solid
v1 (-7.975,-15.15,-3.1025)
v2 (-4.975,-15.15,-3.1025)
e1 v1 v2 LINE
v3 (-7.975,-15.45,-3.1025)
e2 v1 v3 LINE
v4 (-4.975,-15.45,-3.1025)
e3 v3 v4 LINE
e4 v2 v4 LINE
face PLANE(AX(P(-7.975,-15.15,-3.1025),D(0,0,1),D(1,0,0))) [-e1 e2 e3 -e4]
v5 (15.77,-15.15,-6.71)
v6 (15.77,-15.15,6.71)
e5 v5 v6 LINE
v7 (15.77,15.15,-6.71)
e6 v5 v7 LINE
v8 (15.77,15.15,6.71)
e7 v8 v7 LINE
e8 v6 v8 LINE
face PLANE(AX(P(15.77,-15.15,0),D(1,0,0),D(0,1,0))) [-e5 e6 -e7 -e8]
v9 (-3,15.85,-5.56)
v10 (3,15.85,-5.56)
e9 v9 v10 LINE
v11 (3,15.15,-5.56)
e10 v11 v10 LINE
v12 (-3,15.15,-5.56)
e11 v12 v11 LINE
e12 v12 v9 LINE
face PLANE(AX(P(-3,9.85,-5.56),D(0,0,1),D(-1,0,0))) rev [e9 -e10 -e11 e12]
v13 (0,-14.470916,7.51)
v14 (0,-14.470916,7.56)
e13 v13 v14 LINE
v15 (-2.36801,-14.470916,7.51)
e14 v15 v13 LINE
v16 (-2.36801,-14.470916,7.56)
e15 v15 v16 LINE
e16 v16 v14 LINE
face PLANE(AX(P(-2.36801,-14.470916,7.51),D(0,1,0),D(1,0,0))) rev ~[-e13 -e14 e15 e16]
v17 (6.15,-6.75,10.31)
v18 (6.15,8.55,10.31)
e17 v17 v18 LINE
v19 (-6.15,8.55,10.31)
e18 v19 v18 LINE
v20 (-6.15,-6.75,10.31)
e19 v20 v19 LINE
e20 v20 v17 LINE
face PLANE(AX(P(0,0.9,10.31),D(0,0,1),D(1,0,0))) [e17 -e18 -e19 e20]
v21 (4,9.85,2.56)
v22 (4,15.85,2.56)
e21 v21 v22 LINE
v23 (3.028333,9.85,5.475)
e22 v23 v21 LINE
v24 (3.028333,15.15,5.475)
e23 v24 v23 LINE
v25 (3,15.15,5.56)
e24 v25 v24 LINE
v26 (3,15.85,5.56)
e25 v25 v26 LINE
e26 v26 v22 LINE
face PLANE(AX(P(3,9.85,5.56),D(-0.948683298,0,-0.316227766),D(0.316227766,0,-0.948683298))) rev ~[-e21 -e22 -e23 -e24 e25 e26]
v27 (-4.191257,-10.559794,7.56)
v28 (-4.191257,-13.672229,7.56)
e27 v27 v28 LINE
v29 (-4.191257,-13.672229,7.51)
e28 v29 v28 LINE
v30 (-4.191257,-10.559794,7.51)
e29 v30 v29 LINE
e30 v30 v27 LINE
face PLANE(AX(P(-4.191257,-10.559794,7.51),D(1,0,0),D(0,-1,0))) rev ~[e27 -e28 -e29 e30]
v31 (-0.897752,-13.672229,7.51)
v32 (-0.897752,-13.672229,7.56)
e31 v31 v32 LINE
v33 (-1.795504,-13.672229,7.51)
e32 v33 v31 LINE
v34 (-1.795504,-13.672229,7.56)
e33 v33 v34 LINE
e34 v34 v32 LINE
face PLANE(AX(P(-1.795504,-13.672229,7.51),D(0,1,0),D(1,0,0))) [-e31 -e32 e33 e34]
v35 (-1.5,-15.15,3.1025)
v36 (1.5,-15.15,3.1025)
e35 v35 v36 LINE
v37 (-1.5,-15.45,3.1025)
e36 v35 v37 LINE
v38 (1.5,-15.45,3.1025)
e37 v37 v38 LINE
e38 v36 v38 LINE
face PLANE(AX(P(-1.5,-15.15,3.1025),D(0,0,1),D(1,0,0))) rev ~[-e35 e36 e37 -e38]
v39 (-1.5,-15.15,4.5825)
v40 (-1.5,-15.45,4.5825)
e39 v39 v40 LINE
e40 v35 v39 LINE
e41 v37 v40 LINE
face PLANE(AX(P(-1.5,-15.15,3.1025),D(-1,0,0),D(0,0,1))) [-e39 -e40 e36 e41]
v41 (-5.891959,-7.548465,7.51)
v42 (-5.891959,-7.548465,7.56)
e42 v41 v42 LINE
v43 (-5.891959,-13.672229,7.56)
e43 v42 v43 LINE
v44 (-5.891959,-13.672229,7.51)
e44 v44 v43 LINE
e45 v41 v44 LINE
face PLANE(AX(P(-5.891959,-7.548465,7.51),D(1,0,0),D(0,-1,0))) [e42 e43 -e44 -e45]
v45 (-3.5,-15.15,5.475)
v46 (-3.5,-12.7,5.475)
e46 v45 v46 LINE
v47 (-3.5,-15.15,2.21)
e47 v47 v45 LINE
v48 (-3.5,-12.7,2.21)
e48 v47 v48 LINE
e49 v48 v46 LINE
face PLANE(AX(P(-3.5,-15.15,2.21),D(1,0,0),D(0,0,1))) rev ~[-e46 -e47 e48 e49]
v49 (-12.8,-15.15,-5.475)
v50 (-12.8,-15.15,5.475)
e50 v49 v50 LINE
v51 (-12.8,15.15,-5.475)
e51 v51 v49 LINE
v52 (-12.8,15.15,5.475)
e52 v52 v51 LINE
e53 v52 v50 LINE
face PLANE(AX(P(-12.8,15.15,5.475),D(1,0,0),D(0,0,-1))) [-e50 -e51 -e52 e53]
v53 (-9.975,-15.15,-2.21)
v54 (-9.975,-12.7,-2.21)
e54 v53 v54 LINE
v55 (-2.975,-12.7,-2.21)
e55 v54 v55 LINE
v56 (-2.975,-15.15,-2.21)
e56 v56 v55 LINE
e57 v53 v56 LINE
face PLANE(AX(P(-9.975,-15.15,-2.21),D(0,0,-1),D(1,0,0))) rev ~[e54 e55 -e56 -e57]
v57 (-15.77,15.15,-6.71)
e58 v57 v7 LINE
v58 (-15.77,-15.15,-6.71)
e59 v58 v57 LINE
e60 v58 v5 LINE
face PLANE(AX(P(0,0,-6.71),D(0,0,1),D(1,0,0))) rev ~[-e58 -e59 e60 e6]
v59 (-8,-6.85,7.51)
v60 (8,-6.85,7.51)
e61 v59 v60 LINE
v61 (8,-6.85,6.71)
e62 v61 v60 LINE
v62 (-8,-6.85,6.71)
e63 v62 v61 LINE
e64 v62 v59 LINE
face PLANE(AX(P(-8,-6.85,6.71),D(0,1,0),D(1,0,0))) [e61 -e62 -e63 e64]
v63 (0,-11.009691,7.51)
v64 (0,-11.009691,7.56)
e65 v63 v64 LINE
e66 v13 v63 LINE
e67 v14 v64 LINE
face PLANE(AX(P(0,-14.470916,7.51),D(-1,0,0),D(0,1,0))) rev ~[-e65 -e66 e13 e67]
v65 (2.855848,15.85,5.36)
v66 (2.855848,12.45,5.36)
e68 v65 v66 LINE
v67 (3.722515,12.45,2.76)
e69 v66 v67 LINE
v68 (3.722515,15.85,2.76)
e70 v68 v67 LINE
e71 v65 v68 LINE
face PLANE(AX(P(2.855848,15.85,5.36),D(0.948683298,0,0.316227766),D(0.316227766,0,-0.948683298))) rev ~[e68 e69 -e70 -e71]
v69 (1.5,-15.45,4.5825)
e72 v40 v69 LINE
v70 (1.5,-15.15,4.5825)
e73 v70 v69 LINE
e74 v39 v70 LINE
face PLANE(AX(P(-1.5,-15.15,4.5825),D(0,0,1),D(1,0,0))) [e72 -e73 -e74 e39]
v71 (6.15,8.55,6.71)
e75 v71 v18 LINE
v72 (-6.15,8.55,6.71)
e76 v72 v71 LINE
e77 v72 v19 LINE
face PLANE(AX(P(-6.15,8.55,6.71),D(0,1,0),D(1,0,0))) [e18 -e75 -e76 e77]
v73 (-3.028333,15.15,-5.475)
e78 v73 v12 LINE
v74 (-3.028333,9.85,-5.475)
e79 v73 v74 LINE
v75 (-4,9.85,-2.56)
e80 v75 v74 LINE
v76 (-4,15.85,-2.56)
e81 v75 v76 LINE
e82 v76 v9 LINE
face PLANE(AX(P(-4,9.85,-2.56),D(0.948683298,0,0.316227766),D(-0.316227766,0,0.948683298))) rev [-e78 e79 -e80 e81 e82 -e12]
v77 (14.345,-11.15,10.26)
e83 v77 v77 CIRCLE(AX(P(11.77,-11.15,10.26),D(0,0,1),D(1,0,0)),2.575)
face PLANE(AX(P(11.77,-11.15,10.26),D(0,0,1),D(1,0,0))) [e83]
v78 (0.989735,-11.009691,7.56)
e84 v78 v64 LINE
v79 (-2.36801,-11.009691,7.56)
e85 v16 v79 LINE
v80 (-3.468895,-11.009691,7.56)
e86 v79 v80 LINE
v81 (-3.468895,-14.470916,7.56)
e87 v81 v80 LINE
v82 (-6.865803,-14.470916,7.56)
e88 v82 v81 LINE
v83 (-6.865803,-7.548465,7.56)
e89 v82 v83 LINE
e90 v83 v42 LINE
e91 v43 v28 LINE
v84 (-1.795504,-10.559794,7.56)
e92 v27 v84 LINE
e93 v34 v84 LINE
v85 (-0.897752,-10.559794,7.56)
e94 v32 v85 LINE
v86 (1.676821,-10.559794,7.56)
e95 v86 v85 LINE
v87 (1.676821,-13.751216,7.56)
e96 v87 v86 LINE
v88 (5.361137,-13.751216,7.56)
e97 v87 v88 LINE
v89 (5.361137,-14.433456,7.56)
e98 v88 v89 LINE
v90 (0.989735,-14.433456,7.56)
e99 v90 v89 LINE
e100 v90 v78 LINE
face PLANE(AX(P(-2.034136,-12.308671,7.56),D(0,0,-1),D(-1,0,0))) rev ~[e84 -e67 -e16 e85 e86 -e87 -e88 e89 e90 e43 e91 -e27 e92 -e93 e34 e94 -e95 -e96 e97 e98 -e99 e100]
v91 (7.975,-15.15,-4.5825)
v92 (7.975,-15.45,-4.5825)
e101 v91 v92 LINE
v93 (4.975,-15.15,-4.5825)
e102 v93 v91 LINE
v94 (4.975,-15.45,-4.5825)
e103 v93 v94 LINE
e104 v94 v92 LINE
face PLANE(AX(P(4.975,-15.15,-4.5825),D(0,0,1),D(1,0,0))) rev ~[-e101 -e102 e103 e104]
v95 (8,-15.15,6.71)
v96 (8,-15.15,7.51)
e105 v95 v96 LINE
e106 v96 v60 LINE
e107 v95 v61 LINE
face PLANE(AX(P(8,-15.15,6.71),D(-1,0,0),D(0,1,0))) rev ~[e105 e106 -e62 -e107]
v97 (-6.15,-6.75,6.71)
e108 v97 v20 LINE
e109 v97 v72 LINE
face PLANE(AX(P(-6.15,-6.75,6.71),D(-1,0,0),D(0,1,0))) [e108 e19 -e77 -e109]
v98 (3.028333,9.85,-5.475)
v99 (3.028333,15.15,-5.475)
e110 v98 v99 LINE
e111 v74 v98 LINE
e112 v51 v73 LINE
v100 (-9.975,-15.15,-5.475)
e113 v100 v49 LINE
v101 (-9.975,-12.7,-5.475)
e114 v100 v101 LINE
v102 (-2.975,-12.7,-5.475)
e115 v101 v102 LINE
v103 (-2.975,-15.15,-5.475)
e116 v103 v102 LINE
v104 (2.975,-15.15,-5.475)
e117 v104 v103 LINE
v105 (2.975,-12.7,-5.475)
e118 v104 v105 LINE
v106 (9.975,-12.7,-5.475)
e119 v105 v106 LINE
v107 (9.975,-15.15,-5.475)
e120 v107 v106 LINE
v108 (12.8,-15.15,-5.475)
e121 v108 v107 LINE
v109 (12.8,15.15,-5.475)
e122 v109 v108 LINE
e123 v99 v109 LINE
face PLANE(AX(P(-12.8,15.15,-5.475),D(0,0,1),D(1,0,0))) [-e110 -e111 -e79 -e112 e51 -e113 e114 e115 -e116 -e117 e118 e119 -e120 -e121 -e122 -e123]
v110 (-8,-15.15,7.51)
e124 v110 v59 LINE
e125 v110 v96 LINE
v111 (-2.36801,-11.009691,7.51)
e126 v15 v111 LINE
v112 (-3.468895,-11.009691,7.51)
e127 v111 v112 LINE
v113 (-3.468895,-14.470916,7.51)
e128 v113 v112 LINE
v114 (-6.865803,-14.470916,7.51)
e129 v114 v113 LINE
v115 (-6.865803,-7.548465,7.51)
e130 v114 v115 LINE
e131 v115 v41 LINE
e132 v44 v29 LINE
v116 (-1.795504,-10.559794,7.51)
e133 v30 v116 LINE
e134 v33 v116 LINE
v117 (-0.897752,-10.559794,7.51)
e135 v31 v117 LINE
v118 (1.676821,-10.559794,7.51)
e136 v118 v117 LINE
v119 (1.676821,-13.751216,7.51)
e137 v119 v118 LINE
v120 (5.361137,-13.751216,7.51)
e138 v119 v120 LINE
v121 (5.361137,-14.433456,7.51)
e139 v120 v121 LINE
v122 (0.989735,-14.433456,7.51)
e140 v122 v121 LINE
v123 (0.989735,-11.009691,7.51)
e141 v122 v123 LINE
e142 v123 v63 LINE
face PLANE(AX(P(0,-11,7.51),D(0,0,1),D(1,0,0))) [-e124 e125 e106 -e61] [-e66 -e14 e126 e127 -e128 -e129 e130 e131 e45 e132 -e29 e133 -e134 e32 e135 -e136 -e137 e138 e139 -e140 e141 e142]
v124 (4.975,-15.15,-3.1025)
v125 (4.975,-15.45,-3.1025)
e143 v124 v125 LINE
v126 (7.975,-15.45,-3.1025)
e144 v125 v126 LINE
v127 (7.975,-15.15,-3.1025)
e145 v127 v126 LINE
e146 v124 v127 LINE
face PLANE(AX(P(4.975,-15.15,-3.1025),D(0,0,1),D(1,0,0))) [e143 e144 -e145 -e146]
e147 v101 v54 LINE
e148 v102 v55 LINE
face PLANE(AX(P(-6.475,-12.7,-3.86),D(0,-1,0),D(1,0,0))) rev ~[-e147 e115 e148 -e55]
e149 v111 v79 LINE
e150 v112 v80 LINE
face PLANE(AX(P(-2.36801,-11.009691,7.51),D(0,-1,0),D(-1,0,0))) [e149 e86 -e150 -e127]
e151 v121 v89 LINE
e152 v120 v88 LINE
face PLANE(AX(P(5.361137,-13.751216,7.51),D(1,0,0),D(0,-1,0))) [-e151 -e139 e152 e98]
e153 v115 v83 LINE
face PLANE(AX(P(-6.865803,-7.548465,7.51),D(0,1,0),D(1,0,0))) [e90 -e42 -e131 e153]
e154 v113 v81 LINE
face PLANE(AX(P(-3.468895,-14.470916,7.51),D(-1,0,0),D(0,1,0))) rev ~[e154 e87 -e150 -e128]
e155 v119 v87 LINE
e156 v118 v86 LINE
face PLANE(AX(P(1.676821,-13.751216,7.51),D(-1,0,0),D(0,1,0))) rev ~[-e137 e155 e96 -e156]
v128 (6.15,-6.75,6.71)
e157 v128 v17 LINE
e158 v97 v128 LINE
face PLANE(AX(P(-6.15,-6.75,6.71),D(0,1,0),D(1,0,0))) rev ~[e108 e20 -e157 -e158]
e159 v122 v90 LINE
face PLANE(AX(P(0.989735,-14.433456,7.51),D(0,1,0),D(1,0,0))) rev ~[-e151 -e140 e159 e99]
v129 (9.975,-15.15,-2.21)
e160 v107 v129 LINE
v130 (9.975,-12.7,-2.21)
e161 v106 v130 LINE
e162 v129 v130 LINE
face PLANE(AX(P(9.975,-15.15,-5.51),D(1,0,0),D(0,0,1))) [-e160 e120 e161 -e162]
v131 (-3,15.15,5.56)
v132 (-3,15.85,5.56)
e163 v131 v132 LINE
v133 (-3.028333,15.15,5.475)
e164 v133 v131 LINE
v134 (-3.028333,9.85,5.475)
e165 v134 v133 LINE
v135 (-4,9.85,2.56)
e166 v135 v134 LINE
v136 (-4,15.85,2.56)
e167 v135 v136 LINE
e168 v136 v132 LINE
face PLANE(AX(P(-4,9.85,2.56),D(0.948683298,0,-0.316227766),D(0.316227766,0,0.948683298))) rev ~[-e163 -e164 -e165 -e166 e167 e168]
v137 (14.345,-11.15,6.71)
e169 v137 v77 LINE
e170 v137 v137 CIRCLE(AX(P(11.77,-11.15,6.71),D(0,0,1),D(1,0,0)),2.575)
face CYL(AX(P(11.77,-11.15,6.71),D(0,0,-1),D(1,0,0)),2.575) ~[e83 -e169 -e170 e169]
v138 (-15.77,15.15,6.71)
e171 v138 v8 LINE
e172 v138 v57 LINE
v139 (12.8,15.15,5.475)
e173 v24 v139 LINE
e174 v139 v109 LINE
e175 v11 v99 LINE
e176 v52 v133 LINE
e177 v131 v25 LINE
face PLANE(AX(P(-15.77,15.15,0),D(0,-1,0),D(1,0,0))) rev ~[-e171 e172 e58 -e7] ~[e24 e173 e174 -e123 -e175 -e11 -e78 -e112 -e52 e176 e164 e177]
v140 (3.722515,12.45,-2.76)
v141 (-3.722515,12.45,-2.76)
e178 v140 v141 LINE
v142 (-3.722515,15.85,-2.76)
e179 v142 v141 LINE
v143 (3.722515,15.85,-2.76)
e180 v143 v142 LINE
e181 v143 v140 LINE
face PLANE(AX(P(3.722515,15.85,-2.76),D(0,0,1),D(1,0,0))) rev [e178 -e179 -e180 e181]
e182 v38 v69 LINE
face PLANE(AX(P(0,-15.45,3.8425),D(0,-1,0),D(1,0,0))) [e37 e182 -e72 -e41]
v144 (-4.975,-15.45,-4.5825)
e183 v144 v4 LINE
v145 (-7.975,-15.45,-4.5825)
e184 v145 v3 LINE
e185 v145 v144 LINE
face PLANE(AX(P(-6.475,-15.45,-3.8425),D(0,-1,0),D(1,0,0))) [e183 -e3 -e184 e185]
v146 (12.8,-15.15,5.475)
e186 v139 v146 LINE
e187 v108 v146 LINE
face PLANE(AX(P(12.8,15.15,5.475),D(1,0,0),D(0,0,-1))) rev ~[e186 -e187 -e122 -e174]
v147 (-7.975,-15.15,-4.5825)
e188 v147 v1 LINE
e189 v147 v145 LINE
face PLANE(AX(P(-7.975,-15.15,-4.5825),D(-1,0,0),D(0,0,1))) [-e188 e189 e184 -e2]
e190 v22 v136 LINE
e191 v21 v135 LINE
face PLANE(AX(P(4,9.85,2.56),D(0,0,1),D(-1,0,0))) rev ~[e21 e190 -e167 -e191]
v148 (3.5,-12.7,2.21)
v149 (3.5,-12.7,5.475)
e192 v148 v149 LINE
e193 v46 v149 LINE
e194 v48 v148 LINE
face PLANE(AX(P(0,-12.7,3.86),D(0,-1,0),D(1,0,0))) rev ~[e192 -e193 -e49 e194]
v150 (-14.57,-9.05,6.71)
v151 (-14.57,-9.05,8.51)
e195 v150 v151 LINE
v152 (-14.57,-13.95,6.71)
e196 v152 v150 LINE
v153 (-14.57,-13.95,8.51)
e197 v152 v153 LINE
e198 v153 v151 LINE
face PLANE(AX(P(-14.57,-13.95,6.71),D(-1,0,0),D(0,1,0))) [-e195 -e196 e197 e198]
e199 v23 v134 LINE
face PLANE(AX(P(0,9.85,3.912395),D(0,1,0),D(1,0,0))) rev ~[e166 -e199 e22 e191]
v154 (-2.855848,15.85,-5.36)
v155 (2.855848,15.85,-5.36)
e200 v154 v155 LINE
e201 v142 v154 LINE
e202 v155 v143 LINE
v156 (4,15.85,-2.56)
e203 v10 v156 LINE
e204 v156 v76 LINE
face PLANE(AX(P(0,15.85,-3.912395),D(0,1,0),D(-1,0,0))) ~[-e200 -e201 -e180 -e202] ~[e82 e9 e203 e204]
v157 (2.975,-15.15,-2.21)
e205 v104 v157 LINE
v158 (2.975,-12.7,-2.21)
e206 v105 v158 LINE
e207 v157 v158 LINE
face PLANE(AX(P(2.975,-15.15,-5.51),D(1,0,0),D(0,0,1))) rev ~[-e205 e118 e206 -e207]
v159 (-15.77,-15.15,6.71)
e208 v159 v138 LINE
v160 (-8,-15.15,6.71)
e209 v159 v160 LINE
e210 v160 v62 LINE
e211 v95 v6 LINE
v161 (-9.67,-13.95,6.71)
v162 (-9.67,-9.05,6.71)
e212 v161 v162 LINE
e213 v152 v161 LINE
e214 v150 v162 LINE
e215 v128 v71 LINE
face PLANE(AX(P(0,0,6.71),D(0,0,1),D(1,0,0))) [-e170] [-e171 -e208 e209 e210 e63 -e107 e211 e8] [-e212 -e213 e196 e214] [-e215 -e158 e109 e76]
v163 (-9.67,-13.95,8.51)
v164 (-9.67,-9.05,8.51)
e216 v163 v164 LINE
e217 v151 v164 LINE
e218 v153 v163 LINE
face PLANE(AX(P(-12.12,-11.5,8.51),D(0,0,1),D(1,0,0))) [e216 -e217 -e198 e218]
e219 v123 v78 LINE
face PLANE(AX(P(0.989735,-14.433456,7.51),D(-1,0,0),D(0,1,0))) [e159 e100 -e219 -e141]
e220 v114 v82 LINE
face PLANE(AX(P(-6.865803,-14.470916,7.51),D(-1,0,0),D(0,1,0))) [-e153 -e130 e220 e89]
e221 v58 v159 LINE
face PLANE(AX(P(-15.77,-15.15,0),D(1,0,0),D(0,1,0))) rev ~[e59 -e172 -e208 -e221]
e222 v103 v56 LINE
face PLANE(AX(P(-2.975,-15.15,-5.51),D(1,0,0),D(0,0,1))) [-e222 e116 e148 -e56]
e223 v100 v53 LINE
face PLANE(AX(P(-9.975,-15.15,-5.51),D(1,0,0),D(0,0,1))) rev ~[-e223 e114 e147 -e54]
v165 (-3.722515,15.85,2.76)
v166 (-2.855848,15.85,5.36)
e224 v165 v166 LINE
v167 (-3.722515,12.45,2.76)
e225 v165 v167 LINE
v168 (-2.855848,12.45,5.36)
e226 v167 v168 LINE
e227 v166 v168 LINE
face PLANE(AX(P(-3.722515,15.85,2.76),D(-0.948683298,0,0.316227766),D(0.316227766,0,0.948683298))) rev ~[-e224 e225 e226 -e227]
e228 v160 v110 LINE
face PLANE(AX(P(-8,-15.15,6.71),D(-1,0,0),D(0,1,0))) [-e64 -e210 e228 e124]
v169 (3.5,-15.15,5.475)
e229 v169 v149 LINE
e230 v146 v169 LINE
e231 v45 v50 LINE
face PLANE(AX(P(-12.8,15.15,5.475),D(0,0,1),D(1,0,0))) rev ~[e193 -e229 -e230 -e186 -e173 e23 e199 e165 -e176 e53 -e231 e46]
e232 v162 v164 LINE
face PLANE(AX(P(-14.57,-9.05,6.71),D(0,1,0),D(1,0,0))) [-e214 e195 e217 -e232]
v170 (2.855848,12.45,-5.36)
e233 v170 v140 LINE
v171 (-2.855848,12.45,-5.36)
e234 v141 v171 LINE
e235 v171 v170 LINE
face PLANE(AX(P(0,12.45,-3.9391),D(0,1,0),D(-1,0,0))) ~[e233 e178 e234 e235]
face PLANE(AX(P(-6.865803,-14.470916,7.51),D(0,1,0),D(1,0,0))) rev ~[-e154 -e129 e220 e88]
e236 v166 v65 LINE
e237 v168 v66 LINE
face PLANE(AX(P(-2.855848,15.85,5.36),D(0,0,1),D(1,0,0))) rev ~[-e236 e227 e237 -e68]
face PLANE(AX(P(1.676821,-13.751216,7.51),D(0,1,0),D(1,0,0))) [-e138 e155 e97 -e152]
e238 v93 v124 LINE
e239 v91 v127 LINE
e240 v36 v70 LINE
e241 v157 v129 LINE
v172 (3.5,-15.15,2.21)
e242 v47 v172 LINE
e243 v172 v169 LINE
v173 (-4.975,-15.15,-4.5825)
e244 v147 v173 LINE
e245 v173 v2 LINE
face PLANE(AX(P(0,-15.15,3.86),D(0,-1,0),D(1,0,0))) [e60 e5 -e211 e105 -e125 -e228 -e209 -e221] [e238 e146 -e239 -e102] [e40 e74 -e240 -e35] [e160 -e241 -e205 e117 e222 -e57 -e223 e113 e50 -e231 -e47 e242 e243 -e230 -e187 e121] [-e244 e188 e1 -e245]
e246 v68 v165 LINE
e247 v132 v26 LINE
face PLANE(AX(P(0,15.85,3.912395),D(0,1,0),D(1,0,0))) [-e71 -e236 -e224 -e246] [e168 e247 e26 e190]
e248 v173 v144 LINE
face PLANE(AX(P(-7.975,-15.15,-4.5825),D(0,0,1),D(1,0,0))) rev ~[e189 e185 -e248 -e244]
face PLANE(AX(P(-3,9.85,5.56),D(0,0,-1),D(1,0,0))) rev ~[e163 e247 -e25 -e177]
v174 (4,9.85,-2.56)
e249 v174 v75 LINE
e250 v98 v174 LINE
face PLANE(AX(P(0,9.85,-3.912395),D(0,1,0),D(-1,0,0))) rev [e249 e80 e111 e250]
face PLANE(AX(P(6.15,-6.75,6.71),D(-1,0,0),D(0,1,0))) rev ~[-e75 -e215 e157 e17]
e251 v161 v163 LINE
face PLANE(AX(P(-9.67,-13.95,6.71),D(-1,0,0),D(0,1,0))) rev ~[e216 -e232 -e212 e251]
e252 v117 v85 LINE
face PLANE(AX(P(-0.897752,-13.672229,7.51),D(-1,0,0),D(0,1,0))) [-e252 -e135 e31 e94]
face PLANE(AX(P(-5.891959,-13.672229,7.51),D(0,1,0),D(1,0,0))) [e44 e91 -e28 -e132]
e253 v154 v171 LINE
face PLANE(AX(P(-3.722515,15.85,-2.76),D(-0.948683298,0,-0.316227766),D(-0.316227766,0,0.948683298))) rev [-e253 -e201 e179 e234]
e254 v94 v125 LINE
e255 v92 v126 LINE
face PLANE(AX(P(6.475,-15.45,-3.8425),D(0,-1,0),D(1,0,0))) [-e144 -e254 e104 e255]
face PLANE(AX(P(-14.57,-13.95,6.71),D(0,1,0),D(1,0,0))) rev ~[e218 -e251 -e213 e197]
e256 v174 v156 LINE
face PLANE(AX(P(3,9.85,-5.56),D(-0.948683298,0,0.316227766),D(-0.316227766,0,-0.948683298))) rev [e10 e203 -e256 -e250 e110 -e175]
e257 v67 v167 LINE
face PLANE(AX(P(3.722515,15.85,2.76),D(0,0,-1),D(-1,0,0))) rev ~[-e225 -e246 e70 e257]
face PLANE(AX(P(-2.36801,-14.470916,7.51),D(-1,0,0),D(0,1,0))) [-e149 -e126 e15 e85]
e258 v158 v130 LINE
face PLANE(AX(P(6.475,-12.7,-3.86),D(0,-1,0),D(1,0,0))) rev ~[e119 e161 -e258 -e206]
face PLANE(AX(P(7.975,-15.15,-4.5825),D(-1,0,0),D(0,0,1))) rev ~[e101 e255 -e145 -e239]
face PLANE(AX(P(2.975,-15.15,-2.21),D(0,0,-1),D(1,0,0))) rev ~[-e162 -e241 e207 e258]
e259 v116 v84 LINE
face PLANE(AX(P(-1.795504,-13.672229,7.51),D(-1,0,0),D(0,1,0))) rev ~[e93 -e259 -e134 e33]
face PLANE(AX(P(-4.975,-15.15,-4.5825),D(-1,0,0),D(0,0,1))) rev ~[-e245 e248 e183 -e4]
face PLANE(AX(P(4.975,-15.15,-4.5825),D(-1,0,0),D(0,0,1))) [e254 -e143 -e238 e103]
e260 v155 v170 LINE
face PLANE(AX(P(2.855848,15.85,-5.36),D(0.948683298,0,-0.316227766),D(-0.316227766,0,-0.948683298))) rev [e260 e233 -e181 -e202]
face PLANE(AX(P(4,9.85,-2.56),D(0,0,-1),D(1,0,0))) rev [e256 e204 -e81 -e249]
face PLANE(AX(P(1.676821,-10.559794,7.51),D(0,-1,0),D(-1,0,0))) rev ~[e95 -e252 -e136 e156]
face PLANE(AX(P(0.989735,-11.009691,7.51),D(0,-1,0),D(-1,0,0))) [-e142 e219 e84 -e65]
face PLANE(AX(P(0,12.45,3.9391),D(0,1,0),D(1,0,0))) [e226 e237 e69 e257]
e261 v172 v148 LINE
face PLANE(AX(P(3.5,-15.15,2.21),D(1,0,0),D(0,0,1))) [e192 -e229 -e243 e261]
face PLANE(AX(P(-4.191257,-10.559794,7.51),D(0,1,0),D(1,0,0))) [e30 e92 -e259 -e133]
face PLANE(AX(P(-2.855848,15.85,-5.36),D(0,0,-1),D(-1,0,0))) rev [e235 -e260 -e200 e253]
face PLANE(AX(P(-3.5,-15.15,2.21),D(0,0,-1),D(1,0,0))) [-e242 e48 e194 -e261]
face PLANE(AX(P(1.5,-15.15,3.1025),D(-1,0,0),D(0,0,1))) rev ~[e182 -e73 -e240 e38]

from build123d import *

# Parameters (mm, degrees)
ESQUISSE1_W             = 31.54
ESQUISSE1_H             = 30.3
BOSS_EXTRU_1_DEPTH      = 6.71
ESQUISSE2_W             = 12.3
ESQUISSE2_H             = 15.3
BOSS_EXTRU_2_DEPTH      = 3.6
ESQUISSE9_W             = 25.6
ESQUISSE9_H             = 10.95
ENL_V_MAT_EXTRU_2_DEPTH = 36.680232623
BOSS_EXTRU_3_START      = -5.3
BOSS_EXTRU_3_DEPTH      = 6
ENL_V_MAT_EXTRU_1_DEPTH = 3.4
ESQUISSE5_W             = 16
ESQUISSE5_H             = 8.3
BOSS_EXTRU_4_DEPTH      = 0.8
BOSS_EXTRU_5_DEPTH      = 0.05
ESQUISSE7_W             = 4.9
ESQUISSE7_H             = 4.9
BOSS_EXTRU_6_DEPTH      = 1.8
ESQUISSE8_R             = 2.575
BOSS_EXTRU_7_DEPTH      = 3.55
ESQUISSE10_W            = 7
ESQUISSE10_H            = 3.3
BOSS_EXTRU_8_DEPTH      = 2.45
ESQUISSE11_W            = 3
ESQUISSE11_H            = 1.48
BOSS_EXTRU_9_DEPTH      = 0.3


with BuildPart() as part:
    # Esquisse1 → Boss.-Extru.1 (new, symmetric)
    with BuildSketch(Plane.XY):
        Rectangle(ESQUISSE1_W, ESQUISSE1_H)
    extrude(amount=BOSS_EXTRU_1_DEPTH, both=True)

    # Esquisse2 → Boss.-Extru.2 (add)
    with BuildSketch(Plane.XY.offset(6.71)):
        with Locations((0, 0.9)):
            Rectangle(ESQUISSE2_W, ESQUISSE2_H)
    extrude(amount=BOSS_EXTRU_2_DEPTH)

    # Esquisse9 → Enlèv. mat.-Extru.2 (cut, through all)
    with BuildSketch(Plane(origin=(0, 15.15, 0), x_dir=(1, 0, 0), z_dir=(0, 1, 0))):
        Rectangle(ESQUISSE9_W, ESQUISSE9_H)
    extrude(amount=-ENL_V_MAT_EXTRU_2_DEPTH, mode=Mode.SUBTRACT)

    # Esquisse3 → Boss.-Extru.3 (add)
    with BuildSketch(Plane(origin=(0, 15.15, 0), x_dir=(1, 0, 0), z_dir=(0, 1, 0)).offset(BOSS_EXTRU_3_START)):
        Polygon((-4, -2.56), (-3, -5.56), (3, -5.56), (4, -2.56), align=None)
    boss_extru_3 = extrude(amount=BOSS_EXTRU_3_DEPTH)

    # Esquisse4 → Enlèv. mat.-Extru.1 (cut)
    with BuildSketch(Plane(origin=(0, 15.85, 0), x_dir=(1, 0, 0), z_dir=(0, 1, 0))):
        Polygon((3.722514823, -2.76), (-3.722514823, -2.76), (-2.855848156, -5.36), (2.855848156, -5.36), align=None)
    enl_v_mat_extru_1 = extrude(amount=-ENL_V_MAT_EXTRU_1_DEPTH, mode=Mode.SUBTRACT)

    # Symétrie1: Boss.-Extru.3, Enlèv. mat.-Extru.1 across plane
    add(boss_extru_3.mirror(Plane.XY))
    add(enl_v_mat_extru_1.mirror(Plane.XY), mode=Mode.SUBTRACT)

    # Esquisse5 → Boss.-Extru.4 (add)
    with BuildSketch(Plane.XY.offset(6.71)):
        with Locations((0, -11)):
            Rectangle(ESQUISSE5_W, ESQUISSE5_H)
    extrude(amount=BOSS_EXTRU_4_DEPTH)

    # Esquisse6 → Boss.-Extru.5 (add)
    with BuildSketch(Plane.XY.offset(7.51)):
        Polygon((-6.865802853, -7.548465464), (-5.891959411, -7.548465464), (-5.891959411, -13.672228575), (-4.191256638, -13.672228575), (-4.191256638, -11.00969053), (-4.191256638, -10.559793746), (-1.795503566, -10.559793746), (-1.795503566, -11.00969053), (-1.795503566, -13.672228575), (-0.897751783, -13.672228575), (-0.897751783, -10.559793746), (0, -10.559793746), (1.676820822, -10.559793746), (1.676820822, -11.00969053), (1.676820822, -13.751215981), (5.361136535, -13.751215981), (5.361136535, -14.43345617), (1.676820822, -14.43345617), (0.989734758, -14.43345617), (0.989734758, -11.00969053), (0, -11.00969053), (0, -13.672228575), (0, -14.470915596), (-1.795503566, -14.470915596), (-2.368009826, -14.470915596), (-2.368009826, -11.00969053), (-3.468894756, -11.00969053), (-3.468894756, -13.672228575), (-3.468894756, -14.470915596), (-5.891959411, -14.470915596), (-6.865802853, -14.470915596), align=None)
    extrude(amount=BOSS_EXTRU_5_DEPTH)

    # Esquisse7 → Boss.-Extru.6 (add)
    with BuildSketch(Plane.XY.offset(6.71)):
        with Locations((-12.12, -11.5)):
            Rectangle(ESQUISSE7_W, ESQUISSE7_H)
    extrude(amount=BOSS_EXTRU_6_DEPTH)

    # Esquisse8 → Boss.-Extru.7 (add)
    with BuildSketch(Plane.XY.offset(6.71)):
        with Locations((11.77, -11.15)):
            Circle(ESQUISSE8_R)
    extrude(amount=BOSS_EXTRU_7_DEPTH)

    # Esquisse10 → Boss.-Extru.8 (add)
    with BuildSketch(Plane.XZ.offset(15.15)):
        with Locations((0, 3.86)):
            Rectangle(ESQUISSE10_W, ESQUISSE10_H)
        with Locations((-6.475, -3.86)):
            Rectangle(ESQUISSE10_W, ESQUISSE10_H)
        with Locations((6.475, -3.86)):
            Rectangle(ESQUISSE10_W, ESQUISSE10_H)
    extrude(amount=-BOSS_EXTRU_8_DEPTH)

    # Esquisse11 → Boss.-Extru.9 (add)
    with BuildSketch(Plane.XZ.offset(15.15)):
        with Locations((0, 3.8425)):
            Rectangle(ESQUISSE11_W, ESQUISSE11_H)
        with Locations((-6.475, -3.8425)):
            Rectangle(ESQUISSE11_W, ESQUISSE11_H)
        with Locations((6.475, -3.8425)):
            Rectangle(ESQUISSE11_W, ESQUISSE11_H)
    extrude(amount=BOSS_EXTRU_9_DEPTH)


solid = part.part
